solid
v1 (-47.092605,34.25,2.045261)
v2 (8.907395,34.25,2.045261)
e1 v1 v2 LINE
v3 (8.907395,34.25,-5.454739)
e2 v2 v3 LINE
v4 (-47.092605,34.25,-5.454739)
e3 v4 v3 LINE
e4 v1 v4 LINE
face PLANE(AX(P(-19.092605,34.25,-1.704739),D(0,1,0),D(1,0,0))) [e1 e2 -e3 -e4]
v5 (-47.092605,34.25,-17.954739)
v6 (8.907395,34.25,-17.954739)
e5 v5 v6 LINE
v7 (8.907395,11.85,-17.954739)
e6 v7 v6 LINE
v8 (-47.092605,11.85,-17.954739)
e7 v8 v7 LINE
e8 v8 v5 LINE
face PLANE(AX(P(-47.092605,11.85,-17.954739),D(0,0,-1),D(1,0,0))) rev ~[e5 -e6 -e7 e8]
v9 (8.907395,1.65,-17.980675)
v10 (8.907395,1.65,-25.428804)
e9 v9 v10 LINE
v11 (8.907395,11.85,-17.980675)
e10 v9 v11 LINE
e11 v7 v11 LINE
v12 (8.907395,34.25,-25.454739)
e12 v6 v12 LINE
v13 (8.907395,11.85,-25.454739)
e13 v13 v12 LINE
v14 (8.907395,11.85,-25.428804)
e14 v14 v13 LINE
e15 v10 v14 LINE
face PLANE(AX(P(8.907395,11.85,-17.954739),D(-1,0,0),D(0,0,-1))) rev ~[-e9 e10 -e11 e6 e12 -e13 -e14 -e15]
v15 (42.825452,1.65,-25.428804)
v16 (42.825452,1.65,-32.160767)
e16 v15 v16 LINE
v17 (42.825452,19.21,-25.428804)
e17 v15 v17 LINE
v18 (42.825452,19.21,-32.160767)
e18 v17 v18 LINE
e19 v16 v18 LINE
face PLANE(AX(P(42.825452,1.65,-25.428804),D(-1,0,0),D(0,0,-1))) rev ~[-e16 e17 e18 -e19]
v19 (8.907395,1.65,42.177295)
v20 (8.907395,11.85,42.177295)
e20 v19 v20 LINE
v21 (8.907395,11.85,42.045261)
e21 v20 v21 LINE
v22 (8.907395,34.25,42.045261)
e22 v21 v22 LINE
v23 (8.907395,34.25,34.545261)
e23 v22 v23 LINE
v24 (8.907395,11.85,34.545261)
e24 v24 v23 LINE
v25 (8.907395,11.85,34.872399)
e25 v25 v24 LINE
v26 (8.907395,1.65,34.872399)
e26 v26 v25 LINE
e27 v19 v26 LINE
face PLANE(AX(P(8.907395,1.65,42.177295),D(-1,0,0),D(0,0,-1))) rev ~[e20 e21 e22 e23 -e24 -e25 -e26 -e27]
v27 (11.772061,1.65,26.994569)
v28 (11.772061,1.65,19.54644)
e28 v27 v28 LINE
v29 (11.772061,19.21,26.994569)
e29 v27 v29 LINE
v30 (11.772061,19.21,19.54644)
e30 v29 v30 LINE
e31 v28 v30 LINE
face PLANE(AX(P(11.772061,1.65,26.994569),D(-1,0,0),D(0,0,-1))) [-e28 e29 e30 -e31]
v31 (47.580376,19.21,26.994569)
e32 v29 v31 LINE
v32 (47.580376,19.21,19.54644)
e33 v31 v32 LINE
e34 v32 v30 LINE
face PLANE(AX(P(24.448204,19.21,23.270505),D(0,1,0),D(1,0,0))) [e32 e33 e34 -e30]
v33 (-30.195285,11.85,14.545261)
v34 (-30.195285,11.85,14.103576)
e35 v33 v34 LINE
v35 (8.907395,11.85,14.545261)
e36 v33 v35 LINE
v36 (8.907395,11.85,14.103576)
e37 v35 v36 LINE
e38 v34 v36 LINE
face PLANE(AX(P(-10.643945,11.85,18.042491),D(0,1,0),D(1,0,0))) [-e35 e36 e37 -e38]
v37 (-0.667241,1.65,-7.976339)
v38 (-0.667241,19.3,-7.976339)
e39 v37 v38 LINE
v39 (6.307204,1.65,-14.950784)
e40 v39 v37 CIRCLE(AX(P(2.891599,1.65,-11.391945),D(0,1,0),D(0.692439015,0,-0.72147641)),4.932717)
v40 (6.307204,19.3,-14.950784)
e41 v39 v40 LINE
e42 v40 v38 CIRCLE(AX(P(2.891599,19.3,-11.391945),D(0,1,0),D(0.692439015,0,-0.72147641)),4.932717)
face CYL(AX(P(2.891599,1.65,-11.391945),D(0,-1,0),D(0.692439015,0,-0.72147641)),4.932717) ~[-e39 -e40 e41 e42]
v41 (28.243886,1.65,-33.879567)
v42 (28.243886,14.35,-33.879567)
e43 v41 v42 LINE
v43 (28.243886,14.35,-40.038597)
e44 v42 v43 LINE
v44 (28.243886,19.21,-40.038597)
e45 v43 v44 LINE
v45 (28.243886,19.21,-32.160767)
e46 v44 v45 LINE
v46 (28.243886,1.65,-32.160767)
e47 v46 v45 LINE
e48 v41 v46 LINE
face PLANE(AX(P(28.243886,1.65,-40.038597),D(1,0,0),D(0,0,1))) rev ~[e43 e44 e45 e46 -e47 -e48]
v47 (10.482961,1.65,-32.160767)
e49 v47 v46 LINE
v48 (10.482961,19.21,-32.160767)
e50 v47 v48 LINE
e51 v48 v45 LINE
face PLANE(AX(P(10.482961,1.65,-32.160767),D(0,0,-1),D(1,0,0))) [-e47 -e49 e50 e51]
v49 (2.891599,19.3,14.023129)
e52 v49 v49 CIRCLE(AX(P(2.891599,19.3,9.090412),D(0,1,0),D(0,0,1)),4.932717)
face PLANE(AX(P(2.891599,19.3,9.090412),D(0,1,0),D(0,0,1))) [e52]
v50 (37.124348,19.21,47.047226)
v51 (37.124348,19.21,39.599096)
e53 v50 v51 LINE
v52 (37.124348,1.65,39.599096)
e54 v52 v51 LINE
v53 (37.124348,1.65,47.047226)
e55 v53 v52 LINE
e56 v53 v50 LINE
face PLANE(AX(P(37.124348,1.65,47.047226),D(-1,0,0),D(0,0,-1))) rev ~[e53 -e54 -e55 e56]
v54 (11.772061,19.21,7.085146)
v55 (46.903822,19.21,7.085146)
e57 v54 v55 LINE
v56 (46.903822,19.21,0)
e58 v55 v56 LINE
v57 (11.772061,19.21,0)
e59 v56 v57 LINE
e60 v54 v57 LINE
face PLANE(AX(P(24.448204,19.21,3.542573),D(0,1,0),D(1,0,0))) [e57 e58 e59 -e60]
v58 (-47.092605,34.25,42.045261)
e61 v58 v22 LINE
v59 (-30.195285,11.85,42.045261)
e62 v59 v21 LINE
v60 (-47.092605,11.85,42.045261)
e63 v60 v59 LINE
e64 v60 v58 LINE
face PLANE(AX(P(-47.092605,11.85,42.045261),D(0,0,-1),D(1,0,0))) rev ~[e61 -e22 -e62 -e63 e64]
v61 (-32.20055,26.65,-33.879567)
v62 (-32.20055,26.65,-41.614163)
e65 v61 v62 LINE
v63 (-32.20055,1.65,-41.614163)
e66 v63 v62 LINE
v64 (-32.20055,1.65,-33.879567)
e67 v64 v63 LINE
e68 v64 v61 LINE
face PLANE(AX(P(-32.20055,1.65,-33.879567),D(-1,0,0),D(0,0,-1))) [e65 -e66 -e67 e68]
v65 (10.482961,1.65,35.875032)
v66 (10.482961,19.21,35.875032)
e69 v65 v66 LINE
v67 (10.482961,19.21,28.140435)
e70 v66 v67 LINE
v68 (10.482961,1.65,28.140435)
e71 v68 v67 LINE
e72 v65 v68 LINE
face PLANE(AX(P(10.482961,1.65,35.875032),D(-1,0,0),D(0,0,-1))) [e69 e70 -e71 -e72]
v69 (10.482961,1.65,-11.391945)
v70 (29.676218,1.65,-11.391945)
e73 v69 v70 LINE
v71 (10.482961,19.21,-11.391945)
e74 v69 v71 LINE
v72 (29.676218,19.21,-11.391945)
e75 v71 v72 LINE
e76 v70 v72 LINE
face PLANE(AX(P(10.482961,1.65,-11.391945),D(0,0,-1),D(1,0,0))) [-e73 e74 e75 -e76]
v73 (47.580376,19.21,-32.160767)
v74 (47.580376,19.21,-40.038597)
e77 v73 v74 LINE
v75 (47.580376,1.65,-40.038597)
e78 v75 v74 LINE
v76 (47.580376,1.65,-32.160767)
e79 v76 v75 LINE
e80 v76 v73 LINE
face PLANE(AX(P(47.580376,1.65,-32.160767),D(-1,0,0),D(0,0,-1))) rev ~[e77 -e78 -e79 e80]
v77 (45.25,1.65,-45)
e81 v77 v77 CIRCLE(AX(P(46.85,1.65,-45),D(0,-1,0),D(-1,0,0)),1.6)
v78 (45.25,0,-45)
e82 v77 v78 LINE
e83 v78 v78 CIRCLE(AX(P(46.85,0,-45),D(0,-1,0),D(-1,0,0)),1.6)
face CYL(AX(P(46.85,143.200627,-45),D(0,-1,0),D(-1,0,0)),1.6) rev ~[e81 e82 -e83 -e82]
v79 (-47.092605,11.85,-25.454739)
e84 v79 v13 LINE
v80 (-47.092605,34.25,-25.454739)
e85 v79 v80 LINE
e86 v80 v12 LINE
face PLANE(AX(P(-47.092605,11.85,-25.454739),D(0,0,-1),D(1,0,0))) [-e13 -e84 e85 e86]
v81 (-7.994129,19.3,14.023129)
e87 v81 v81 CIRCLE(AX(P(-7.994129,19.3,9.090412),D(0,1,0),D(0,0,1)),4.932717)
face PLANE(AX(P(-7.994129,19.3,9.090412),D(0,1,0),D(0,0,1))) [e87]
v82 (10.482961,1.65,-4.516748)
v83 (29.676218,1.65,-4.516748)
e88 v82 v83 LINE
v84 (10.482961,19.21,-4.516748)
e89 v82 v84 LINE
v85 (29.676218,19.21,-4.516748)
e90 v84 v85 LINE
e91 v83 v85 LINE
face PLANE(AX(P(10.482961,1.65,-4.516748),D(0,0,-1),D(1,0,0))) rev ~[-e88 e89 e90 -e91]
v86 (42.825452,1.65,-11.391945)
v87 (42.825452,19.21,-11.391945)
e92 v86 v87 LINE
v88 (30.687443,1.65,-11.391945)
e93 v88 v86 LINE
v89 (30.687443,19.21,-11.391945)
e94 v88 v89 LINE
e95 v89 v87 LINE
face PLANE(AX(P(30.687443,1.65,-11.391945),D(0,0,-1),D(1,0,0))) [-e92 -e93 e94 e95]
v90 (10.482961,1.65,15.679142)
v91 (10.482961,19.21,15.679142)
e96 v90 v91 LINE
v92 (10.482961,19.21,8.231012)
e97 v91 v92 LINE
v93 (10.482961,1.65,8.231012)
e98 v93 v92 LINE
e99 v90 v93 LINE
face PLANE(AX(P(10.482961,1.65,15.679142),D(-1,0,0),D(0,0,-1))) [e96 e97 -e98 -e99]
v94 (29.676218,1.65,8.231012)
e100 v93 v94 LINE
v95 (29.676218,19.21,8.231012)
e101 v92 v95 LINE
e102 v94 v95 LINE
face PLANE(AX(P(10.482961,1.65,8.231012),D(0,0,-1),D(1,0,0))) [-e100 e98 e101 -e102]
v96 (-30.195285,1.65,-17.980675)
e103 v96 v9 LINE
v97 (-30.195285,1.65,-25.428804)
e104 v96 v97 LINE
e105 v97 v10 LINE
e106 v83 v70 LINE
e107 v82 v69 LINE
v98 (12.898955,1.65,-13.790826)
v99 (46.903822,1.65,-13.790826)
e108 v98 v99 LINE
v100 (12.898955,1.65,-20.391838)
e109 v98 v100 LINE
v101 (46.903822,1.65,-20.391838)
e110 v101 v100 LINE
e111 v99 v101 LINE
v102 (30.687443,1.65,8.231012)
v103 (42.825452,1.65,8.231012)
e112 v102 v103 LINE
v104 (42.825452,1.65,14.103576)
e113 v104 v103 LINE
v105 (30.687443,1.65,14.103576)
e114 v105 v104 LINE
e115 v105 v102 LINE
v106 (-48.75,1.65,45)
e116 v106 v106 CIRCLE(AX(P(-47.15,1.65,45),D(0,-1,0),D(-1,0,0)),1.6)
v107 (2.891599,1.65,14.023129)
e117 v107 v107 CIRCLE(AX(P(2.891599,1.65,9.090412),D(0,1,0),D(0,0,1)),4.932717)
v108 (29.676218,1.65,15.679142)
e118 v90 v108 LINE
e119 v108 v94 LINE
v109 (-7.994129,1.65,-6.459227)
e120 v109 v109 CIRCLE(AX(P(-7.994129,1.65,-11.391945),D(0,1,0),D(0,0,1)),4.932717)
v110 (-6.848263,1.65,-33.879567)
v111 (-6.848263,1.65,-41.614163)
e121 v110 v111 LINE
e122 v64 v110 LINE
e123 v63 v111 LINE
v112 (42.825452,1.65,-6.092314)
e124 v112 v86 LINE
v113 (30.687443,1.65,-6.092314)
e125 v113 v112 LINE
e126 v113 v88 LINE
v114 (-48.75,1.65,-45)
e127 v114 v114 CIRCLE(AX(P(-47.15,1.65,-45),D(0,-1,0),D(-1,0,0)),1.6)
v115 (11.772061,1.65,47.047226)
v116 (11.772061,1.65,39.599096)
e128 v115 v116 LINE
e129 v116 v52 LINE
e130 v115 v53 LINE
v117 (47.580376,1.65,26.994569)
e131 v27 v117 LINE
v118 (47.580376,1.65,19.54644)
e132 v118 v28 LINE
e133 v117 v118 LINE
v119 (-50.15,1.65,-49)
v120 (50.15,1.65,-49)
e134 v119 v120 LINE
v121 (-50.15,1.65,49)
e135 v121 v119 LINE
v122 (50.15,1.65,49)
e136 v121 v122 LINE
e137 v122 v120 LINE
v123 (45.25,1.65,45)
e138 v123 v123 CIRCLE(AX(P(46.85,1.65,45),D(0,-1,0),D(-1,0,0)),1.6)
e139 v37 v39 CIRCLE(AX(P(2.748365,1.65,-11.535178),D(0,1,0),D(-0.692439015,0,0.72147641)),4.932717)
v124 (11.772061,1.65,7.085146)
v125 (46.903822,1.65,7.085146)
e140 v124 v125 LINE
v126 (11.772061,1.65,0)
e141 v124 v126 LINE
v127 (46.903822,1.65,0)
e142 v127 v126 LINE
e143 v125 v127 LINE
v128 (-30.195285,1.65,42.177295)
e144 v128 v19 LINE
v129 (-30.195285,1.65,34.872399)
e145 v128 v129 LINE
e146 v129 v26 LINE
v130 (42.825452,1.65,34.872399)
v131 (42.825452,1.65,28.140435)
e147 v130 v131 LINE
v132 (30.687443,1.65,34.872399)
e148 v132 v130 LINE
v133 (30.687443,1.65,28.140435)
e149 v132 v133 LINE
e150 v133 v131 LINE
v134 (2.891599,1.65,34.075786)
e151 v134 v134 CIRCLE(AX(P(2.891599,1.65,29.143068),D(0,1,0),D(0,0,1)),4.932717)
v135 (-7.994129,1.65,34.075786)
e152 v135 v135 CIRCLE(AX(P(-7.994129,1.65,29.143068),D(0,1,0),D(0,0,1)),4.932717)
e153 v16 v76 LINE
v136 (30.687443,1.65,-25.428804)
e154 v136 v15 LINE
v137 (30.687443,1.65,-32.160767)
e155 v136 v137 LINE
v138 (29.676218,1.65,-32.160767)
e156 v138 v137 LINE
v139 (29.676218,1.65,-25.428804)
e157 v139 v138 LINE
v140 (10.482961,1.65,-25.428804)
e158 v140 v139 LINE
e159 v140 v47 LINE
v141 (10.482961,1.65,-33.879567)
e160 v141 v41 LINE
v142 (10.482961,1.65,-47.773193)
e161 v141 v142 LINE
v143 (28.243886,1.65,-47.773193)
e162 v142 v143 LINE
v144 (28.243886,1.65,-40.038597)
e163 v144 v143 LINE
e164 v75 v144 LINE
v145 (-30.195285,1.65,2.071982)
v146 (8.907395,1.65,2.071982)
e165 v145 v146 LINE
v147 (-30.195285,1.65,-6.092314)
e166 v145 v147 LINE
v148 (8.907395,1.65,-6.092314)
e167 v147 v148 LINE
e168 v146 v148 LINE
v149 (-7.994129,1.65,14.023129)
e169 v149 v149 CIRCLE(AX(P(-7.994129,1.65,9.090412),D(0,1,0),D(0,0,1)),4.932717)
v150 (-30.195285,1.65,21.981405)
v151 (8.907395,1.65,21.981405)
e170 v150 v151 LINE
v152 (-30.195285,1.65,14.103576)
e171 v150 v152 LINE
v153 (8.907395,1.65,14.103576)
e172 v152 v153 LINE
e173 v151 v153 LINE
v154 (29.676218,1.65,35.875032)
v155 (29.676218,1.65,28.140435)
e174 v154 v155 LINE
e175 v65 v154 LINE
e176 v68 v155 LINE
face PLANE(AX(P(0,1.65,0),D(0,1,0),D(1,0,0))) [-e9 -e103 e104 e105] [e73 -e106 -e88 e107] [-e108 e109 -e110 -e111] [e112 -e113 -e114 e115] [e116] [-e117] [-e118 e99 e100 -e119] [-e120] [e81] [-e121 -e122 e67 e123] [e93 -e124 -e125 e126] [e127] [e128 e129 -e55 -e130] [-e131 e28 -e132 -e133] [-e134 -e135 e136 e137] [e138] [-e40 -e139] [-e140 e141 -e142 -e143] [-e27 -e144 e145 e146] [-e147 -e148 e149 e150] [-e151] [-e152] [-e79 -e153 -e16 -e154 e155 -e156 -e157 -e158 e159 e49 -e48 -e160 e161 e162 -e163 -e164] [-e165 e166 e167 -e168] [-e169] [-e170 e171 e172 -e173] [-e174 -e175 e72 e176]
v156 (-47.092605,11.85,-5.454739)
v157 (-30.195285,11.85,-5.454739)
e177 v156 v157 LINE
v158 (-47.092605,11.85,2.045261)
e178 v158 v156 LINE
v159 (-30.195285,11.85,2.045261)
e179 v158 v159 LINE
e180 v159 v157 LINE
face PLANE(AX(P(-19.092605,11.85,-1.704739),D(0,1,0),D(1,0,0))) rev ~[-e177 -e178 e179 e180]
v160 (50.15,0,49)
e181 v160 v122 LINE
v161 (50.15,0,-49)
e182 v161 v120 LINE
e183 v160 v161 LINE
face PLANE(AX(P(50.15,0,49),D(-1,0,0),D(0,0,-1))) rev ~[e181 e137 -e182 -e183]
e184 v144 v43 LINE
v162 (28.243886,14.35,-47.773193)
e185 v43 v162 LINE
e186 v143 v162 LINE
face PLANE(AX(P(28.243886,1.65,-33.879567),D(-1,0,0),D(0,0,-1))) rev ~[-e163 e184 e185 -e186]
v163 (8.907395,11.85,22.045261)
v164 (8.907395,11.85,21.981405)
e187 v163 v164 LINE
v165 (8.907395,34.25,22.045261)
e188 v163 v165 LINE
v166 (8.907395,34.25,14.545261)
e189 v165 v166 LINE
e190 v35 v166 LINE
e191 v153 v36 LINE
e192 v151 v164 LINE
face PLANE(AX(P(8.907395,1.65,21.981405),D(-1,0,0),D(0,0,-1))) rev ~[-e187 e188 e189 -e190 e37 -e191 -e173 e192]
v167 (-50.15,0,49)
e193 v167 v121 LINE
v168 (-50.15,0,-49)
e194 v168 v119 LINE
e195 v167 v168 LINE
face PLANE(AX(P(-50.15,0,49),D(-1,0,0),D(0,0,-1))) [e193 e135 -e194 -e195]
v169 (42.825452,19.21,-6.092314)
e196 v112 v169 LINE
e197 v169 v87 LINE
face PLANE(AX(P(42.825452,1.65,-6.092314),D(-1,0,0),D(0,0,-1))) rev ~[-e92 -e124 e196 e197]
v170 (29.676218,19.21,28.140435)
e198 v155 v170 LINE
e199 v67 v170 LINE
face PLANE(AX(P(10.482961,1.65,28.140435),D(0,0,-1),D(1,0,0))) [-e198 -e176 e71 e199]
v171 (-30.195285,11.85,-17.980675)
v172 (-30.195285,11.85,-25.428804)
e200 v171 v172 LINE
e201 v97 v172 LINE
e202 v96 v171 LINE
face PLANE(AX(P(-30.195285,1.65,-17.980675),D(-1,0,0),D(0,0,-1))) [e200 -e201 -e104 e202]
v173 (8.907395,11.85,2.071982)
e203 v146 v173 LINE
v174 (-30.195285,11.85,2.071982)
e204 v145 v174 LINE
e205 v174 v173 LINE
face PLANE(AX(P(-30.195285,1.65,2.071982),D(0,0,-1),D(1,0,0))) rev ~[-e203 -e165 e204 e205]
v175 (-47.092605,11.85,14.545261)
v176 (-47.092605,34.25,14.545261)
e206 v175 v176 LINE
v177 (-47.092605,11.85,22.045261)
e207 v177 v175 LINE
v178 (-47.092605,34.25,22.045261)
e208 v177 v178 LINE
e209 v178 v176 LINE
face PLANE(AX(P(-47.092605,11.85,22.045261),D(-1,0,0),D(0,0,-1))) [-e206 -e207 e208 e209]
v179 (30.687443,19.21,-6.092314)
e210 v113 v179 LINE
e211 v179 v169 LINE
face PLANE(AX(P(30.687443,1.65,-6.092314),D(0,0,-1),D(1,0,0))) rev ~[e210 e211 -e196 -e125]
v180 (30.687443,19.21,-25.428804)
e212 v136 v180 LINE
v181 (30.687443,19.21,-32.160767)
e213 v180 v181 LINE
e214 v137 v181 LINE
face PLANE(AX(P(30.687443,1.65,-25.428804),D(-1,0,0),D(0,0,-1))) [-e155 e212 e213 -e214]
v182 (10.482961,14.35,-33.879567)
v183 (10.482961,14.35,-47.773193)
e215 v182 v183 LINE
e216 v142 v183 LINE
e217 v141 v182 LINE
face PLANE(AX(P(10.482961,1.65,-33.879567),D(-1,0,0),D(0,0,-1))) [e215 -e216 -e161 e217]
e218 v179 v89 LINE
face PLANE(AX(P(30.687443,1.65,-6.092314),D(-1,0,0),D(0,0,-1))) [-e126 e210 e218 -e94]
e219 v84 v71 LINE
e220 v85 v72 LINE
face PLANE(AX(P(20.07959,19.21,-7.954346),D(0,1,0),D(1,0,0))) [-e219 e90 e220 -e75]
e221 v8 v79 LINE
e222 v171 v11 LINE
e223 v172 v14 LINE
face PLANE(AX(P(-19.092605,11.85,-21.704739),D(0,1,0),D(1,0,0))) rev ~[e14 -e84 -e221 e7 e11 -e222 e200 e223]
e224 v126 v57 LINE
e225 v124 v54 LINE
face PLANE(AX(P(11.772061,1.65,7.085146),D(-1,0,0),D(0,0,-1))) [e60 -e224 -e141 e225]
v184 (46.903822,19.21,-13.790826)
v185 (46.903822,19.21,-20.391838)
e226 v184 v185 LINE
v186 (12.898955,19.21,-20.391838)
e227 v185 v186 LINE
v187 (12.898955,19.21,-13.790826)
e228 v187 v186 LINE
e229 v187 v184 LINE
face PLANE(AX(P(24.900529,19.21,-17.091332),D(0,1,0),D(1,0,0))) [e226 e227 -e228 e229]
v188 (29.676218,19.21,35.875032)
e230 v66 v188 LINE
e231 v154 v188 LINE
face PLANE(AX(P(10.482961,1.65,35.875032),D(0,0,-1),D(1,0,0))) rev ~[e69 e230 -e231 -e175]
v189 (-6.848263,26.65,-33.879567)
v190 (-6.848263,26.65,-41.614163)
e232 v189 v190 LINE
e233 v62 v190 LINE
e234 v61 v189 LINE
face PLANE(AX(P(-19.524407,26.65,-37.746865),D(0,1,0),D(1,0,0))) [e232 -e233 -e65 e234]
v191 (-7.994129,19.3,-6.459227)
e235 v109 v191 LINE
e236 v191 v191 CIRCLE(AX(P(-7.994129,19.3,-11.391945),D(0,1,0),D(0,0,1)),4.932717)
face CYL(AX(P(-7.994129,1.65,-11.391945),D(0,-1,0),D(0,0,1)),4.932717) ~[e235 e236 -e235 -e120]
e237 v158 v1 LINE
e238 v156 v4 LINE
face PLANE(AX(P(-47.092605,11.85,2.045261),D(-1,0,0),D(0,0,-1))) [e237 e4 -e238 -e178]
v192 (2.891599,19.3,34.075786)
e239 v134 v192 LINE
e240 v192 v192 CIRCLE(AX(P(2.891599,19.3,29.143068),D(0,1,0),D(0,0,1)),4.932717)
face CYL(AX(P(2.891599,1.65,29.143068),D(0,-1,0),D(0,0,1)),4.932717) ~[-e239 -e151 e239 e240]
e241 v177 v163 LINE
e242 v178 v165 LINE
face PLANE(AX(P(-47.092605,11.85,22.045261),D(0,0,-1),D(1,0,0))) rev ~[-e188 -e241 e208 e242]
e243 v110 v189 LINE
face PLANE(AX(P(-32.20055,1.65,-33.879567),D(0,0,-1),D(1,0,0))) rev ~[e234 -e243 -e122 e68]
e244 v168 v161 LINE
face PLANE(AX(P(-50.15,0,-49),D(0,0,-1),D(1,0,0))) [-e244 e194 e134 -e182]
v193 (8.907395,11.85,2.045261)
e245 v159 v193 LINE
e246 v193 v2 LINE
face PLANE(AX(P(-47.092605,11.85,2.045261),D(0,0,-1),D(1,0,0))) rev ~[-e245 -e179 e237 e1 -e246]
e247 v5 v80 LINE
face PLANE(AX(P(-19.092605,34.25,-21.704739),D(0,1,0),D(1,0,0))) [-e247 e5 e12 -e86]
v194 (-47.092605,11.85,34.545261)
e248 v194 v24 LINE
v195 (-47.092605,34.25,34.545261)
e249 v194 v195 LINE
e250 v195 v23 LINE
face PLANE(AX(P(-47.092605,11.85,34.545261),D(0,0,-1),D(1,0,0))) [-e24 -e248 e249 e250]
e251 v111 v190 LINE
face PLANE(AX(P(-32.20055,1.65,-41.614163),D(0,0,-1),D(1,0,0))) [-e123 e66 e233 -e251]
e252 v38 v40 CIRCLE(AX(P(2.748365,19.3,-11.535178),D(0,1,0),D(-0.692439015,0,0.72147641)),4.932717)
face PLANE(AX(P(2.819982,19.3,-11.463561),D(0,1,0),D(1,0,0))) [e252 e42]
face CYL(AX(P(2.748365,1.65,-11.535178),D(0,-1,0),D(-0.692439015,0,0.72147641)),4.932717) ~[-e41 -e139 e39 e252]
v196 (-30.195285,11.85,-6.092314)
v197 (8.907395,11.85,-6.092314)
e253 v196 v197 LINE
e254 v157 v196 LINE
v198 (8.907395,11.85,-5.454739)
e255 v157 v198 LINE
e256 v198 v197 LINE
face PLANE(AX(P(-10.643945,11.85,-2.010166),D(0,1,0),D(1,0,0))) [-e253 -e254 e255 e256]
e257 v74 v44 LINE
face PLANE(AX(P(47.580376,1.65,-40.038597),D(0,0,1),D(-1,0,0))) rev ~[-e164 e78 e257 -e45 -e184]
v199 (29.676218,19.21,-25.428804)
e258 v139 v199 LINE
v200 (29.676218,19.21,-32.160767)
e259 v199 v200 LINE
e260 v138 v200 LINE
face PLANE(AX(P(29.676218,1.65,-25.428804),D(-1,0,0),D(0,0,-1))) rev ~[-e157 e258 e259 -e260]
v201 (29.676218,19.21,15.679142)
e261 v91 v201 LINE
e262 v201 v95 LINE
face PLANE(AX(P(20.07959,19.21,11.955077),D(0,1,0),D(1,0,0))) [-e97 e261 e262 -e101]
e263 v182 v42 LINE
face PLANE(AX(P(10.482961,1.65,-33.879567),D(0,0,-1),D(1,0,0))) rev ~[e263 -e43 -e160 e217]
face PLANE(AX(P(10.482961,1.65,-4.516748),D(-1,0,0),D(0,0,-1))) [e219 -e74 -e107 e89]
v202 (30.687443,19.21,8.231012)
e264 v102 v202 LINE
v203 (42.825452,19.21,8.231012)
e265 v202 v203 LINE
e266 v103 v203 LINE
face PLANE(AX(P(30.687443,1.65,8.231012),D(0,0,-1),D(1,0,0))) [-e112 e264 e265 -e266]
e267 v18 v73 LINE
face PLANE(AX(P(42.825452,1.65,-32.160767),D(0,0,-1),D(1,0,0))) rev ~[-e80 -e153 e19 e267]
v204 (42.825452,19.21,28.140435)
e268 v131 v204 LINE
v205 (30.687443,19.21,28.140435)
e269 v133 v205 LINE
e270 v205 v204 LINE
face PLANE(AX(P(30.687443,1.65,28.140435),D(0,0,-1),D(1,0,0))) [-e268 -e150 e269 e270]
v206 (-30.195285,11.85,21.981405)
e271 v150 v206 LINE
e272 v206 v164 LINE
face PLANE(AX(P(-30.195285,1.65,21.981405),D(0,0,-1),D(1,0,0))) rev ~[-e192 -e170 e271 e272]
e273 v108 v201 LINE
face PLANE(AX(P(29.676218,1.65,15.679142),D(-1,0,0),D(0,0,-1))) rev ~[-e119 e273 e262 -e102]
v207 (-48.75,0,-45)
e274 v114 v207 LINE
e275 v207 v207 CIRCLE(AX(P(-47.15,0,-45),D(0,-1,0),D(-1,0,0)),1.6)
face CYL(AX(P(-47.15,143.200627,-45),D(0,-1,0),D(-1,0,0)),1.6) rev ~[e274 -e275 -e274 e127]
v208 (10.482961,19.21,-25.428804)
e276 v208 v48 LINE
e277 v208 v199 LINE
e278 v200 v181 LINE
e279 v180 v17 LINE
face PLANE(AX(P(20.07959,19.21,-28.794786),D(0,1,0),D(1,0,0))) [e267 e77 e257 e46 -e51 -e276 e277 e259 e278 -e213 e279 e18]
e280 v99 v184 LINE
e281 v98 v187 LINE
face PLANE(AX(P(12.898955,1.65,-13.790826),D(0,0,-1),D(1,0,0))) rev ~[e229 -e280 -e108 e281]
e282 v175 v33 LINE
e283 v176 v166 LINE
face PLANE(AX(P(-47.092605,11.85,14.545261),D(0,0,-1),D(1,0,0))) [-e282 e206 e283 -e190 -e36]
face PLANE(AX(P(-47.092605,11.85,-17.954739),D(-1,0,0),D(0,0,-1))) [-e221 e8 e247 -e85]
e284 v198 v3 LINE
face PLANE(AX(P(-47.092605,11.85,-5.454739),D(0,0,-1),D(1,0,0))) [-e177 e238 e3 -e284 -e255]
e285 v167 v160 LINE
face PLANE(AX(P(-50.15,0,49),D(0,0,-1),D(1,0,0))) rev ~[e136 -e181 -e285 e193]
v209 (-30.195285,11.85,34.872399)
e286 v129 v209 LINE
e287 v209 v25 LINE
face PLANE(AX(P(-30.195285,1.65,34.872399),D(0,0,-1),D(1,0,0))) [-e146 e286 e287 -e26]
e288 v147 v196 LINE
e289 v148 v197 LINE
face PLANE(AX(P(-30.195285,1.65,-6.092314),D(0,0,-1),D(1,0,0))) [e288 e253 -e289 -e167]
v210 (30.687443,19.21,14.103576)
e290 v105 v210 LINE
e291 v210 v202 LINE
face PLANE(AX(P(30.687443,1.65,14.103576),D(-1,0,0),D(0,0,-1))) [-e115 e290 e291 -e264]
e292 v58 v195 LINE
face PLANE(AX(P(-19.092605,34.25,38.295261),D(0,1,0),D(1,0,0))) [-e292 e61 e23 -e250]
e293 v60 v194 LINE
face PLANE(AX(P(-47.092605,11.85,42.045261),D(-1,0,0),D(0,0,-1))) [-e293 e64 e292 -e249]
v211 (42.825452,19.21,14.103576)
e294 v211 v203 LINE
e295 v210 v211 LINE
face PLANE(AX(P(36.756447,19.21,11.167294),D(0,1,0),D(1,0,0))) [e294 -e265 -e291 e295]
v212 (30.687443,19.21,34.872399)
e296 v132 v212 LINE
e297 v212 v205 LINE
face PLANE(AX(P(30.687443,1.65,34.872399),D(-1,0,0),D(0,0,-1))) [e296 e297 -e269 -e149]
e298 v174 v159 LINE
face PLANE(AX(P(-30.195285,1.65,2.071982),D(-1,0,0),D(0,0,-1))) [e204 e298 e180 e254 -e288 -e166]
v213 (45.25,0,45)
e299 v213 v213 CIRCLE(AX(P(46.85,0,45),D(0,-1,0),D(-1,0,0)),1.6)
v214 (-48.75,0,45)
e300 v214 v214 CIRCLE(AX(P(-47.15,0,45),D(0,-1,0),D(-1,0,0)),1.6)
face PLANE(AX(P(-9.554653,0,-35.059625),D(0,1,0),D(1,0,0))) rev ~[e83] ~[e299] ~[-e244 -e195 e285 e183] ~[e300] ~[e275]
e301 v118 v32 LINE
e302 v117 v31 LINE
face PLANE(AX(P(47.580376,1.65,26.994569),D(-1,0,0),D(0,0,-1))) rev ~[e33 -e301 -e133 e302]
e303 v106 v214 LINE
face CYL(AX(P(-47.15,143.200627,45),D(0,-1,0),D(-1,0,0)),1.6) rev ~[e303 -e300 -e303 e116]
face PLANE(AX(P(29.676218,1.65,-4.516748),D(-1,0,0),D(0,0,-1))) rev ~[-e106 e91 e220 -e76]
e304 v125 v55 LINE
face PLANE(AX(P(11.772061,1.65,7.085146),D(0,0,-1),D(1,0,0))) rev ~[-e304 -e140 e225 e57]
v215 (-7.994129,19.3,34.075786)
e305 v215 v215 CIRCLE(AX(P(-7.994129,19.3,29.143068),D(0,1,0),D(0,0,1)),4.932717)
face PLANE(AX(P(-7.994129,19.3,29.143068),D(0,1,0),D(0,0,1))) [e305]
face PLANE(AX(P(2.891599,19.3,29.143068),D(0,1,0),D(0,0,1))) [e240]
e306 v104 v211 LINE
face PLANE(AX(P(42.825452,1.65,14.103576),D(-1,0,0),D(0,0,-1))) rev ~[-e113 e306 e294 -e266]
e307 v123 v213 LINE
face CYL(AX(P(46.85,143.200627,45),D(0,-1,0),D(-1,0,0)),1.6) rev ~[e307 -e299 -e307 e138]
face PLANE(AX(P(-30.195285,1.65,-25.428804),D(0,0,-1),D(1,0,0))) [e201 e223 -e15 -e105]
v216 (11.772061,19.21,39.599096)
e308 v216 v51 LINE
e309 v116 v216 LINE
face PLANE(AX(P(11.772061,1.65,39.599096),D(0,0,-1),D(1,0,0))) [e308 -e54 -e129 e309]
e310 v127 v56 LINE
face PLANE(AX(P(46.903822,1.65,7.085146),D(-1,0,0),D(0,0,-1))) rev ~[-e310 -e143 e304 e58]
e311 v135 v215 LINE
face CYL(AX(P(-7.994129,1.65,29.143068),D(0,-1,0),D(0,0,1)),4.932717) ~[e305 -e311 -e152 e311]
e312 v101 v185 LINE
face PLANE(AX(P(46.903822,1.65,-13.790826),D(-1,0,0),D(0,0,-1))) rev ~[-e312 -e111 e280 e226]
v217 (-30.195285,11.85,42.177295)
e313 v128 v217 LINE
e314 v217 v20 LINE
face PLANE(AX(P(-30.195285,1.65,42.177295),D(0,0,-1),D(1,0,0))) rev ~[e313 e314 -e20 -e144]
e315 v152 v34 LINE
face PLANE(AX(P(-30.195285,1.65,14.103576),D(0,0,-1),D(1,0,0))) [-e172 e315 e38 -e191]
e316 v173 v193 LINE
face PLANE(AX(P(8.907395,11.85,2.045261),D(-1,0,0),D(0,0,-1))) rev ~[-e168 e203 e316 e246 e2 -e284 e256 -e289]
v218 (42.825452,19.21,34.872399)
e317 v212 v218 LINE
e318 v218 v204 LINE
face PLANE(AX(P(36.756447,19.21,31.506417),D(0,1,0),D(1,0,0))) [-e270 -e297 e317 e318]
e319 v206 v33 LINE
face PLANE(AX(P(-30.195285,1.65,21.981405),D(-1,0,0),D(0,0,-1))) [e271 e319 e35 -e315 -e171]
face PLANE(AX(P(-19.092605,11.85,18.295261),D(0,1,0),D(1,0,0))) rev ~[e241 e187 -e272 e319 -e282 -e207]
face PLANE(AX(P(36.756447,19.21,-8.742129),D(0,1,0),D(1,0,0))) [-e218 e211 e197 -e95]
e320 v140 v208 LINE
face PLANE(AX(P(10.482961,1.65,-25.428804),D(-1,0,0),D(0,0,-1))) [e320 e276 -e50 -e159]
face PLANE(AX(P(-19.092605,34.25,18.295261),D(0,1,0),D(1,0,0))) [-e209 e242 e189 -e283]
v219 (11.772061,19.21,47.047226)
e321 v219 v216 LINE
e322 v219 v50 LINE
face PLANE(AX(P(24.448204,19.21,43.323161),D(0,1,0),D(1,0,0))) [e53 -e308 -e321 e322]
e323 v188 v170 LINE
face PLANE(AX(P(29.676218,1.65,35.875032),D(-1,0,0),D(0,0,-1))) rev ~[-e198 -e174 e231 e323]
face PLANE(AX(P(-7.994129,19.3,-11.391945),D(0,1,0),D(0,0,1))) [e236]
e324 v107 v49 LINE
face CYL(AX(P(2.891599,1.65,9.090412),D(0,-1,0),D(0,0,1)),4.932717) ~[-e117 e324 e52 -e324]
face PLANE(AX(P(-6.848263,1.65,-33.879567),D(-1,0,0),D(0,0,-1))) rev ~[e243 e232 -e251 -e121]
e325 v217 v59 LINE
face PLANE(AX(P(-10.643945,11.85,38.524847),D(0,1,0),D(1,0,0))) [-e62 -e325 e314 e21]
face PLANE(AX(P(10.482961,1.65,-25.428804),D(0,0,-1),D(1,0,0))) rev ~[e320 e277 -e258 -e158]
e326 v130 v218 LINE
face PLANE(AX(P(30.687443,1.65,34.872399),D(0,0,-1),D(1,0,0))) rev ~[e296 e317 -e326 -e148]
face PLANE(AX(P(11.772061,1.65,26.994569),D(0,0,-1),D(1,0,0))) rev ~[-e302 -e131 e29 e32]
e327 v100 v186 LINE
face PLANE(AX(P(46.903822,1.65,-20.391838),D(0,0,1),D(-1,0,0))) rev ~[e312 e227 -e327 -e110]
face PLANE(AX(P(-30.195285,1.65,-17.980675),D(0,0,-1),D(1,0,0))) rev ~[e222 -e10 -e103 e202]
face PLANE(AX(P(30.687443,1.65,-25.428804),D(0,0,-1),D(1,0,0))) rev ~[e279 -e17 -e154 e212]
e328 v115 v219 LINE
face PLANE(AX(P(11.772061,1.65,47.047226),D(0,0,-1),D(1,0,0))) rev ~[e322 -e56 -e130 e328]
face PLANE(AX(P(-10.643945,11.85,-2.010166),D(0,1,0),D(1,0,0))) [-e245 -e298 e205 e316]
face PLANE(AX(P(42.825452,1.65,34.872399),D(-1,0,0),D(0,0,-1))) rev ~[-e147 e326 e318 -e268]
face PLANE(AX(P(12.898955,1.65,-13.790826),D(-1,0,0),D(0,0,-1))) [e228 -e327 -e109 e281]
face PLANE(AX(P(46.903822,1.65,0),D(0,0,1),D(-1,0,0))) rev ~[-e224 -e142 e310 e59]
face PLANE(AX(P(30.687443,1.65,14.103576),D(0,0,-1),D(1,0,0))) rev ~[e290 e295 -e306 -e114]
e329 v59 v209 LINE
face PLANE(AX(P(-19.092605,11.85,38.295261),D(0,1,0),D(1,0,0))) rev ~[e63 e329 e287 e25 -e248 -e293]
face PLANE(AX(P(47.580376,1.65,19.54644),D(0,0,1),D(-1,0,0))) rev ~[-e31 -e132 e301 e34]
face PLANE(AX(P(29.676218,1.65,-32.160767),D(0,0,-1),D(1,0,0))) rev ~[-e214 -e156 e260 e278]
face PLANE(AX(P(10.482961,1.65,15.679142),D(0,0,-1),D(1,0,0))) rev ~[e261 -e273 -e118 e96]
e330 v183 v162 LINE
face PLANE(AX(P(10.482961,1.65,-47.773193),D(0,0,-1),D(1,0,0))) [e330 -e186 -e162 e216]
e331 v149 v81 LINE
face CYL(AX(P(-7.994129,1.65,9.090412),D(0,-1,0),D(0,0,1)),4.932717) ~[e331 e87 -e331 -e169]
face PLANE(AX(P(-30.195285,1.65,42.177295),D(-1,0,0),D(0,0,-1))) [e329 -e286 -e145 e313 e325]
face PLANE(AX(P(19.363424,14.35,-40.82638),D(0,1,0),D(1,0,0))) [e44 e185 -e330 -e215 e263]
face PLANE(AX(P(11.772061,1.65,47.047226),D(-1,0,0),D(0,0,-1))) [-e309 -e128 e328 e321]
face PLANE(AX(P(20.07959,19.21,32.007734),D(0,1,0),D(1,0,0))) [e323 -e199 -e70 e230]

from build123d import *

# Parameters (mm, degrees)
SKETCH2_W            = 100.3
SKETCH2_H            = 98
BOSS_EXTRUDE1_DEPTH  = 1.65
SKETCH5_W            = 39.102680246
SKETCH5_H            = 7.304896309
SKETCH5_H_2          = 7.877829353
SKETCH5_H_3          = 8.164295876
SKETCH5_H_4          = 7.448129571
BOSS_EXTRUDE4_DEPTH  = 10.2
SKETCH5_3_R          = 4.932717276
BOSS_EXTRUDE5_DEPTH  = 17.65
M3_CLEARANCE_HOLE1_D = 3.2
SKETCH6_W            = 56
SKETCH6_H            = 7.5
BOSS_EXTRUDE6_DEPTH  = 22.4
LPATTERN1_COUNT      = 4
LPATTERN1_PITCH      = 20
SKETCH5_4_W          = 25.352287192
SKETCH5_4_H          = 7.44812957
SKETCH5_4_W_2        = 19.193256971
SKETCH5_4_H_2        = 7.734596093
SKETCH5_4_W_3        = 35.808315243
SKETCH5_4_W_4        = 35.131761676
SKETCH5_4_H_3        = 7.085146118
SKETCH5_4_H_4        = 6.875196527
SKETCH5_4_W_5        = 34.004867694
SKETCH5_4_H_5        = 6.601011751
SKETCH5_4_W_6        = 12.138008325
SKETCH5_4_H_6        = 5.299630656
SKETCH5_4_H_7        = 5.8725637
SKETCH5_4_H_8        = 6.731963266
BOSS_EXTRUDE11_DEPTH = 17.56
SKETCH5_6_W          = 17.760924361
SKETCH5_6_H          = 13.893626315
BOSS_EXTRUDE13_DEPTH = 12.7
SKETCH5_7_W          = 25.352287192
SKETCH5_7_H          = 7.734596093
BOSS_EXTRUDE14_DEPTH = 25


with BuildPart() as part:
    # Sketch2 → Boss-Extrude1 (new body)
    with BuildSketch(Plane(origin=(0, 0, 0), x_dir=(1, 0, 0), z_dir=(0, 1, 0))):
        Rectangle(SKETCH2_W, SKETCH2_H)
    extrude(amount=BOSS_EXTRUDE1_DEPTH)

    # Sketch5 → Boss-Extrude4 (add)
    with BuildSketch(Plane(origin=(0, 1.65, 0), x_dir=(1, 0, 0), z_dir=(0, 1, 0))):
        with Locations((-10.643944628, -38.524846902)):
            Rectangle(SKETCH5_W, SKETCH5_H)
        with Locations((-10.643944628, -18.042490583)):
            Rectangle(SKETCH5_W, SKETCH5_H_2)
        with Locations((-10.643944628, 2.010165954)):
            Rectangle(SKETCH5_W, SKETCH5_H_3)
        with Locations((-10.643944628, 21.704739338)):
            Rectangle(SKETCH5_W, SKETCH5_H_4)
    extrude(amount=BOSS_EXTRUDE4_DEPTH)

    # Sketch5<3> → Boss-Extrude5 (add)
    with BuildSketch(Plane(origin=(0, 1.65, 0), x_dir=(1, 0, 0), z_dir=(0, 1, 0))):
        with Locations((-7.9941293, 11.391944548)):
            Circle(SKETCH5_3_R)
        with BuildLine():
            ThreePointArc((-0.667240619, 7.976338656), (6.236323108, 8.047219973), (6.307204425, 14.9507837))
            ThreePointArc((6.307204425, 14.9507837), (-0.596359302, 14.879902383), (-0.667240619, 7.976338656))
        make_face()
        with Locations((-7.9941293, -9.090411772)):
            Circle(SKETCH5_3_R)
        with Locations((2.891598534, -9.090411772)):
            Circle(SKETCH5_3_R)
        with Locations((-7.9941293, -29.143068308)):
            Circle(SKETCH5_3_R)
        with Locations((2.891598534, -29.143068308)):
            Circle(SKETCH5_3_R)
    extrude(amount=BOSS_EXTRUDE5_DEPTH)

    # M3 Clearance Hole1 (through all)
    with Locations(Plane(origin=(0, 1.65, 0), x_dir=(1, 0, 0), z_dir=(0, 1, 0))):
        with Locations((46.85, -45), (46.85, 45), (-47.15, 45), (-47.15, -45)):
            Hole(M3_CLEARANCE_HOLE1_D / 2)

    # Sketch6 → Boss-Extrude6 (add)
    with BuildSketch(Plane(origin=(0, 11.85, 0), x_dir=(1, 0, 0), z_dir=(0, 1, 0))):
        with Locations((-19.092604505, 21.704739338)):
            Rectangle(SKETCH6_W, SKETCH6_H)
    boss_extrude6 = extrude(amount=BOSS_EXTRUDE6_DEPTH)

    # LPattern1: Boss-Extrude6 ×4
    with Locations(*[(0, 0, i * LPATTERN1_PITCH) for i in range(1, LPATTERN1_COUNT)]):
        add(boss_extrude6)

    # Sketch5<4> → Boss-Extrude11 (add)
    with BuildSketch(Plane(origin=(0, 1.65, 0), x_dir=(1, 0, 0), z_dir=(0, 1, 0))):
        with Locations((24.44820431, -43.323161144)):
            Rectangle(SKETCH5_4_W, SKETCH5_4_H)
        with Locations((20.07958985, -32.007733528)):
            Rectangle(SKETCH5_4_W_2, SKETCH5_4_H_2)
        with Locations((29.676218335, -23.270504608)):
            Rectangle(SKETCH5_4_W_3, SKETCH5_4_H)
        with Locations((29.337941552, -3.542573059)):
            Rectangle(SKETCH5_4_W_4, SKETCH5_4_H_3)
        with Locations((20.07958985, 7.954346285)):
            Rectangle(SKETCH5_4_W_2, SKETCH5_4_H_4)
        Polygon((28.243885726, 32.160767389), (10.482961365, 32.160767389), (10.482961365, 25.428804123), (29.676218336, 25.428804123), (29.676218336, 32.160767389), (30.687443267, 32.160767389), (30.687443267, 25.428804123), (42.825451592, 25.428804123), (42.825451592, 32.160767389), (47.580375957, 32.160767389), (47.580375957, 40.038596742), (28.243885726, 40.038596742), align=None)
        with Locations((29.901388543, 17.0913323)):
            Rectangle(SKETCH5_4_W_5, SKETCH5_4_H_5)
        with Locations((20.07958985, -11.955076991)):
            Rectangle(SKETCH5_4_W_2, SKETCH5_4_H)
        with Locations((36.756447429, 8.74212922)):
            Rectangle(SKETCH5_4_W_6, SKETCH5_4_H_6)
        with Locations((36.756447429, -11.167294056)):
            Rectangle(SKETCH5_4_W_6, SKETCH5_4_H_7)
        with Locations((36.756447429, -31.506417114)):
            Rectangle(SKETCH5_4_W_6, SKETCH5_4_H_8)
    extrude(amount=BOSS_EXTRUDE11_DEPTH)

    # Sketch5<6> → Boss-Extrude13 (add)
    with BuildSketch(Plane(origin=(0, 1.65, 0), x_dir=(1, 0, 0), z_dir=(0, 1, 0))):
        with Locations((19.363423546, 40.826379678)):
            Rectangle(SKETCH5_6_W, SKETCH5_6_H)
    extrude(amount=BOSS_EXTRUDE13_DEPTH)

    # Sketch5<7> → Boss-Extrude14 (add)
    with BuildSketch(Plane(origin=(0, 1.65, 0), x_dir=(1, 0, 0), z_dir=(0, 1, 0))):
        with Locations((-19.524406809, 37.746864567)):
            Rectangle(SKETCH5_7_W, SKETCH5_7_H)
    extrude(amount=BOSS_EXTRUDE14_DEPTH)


solid = part.part
